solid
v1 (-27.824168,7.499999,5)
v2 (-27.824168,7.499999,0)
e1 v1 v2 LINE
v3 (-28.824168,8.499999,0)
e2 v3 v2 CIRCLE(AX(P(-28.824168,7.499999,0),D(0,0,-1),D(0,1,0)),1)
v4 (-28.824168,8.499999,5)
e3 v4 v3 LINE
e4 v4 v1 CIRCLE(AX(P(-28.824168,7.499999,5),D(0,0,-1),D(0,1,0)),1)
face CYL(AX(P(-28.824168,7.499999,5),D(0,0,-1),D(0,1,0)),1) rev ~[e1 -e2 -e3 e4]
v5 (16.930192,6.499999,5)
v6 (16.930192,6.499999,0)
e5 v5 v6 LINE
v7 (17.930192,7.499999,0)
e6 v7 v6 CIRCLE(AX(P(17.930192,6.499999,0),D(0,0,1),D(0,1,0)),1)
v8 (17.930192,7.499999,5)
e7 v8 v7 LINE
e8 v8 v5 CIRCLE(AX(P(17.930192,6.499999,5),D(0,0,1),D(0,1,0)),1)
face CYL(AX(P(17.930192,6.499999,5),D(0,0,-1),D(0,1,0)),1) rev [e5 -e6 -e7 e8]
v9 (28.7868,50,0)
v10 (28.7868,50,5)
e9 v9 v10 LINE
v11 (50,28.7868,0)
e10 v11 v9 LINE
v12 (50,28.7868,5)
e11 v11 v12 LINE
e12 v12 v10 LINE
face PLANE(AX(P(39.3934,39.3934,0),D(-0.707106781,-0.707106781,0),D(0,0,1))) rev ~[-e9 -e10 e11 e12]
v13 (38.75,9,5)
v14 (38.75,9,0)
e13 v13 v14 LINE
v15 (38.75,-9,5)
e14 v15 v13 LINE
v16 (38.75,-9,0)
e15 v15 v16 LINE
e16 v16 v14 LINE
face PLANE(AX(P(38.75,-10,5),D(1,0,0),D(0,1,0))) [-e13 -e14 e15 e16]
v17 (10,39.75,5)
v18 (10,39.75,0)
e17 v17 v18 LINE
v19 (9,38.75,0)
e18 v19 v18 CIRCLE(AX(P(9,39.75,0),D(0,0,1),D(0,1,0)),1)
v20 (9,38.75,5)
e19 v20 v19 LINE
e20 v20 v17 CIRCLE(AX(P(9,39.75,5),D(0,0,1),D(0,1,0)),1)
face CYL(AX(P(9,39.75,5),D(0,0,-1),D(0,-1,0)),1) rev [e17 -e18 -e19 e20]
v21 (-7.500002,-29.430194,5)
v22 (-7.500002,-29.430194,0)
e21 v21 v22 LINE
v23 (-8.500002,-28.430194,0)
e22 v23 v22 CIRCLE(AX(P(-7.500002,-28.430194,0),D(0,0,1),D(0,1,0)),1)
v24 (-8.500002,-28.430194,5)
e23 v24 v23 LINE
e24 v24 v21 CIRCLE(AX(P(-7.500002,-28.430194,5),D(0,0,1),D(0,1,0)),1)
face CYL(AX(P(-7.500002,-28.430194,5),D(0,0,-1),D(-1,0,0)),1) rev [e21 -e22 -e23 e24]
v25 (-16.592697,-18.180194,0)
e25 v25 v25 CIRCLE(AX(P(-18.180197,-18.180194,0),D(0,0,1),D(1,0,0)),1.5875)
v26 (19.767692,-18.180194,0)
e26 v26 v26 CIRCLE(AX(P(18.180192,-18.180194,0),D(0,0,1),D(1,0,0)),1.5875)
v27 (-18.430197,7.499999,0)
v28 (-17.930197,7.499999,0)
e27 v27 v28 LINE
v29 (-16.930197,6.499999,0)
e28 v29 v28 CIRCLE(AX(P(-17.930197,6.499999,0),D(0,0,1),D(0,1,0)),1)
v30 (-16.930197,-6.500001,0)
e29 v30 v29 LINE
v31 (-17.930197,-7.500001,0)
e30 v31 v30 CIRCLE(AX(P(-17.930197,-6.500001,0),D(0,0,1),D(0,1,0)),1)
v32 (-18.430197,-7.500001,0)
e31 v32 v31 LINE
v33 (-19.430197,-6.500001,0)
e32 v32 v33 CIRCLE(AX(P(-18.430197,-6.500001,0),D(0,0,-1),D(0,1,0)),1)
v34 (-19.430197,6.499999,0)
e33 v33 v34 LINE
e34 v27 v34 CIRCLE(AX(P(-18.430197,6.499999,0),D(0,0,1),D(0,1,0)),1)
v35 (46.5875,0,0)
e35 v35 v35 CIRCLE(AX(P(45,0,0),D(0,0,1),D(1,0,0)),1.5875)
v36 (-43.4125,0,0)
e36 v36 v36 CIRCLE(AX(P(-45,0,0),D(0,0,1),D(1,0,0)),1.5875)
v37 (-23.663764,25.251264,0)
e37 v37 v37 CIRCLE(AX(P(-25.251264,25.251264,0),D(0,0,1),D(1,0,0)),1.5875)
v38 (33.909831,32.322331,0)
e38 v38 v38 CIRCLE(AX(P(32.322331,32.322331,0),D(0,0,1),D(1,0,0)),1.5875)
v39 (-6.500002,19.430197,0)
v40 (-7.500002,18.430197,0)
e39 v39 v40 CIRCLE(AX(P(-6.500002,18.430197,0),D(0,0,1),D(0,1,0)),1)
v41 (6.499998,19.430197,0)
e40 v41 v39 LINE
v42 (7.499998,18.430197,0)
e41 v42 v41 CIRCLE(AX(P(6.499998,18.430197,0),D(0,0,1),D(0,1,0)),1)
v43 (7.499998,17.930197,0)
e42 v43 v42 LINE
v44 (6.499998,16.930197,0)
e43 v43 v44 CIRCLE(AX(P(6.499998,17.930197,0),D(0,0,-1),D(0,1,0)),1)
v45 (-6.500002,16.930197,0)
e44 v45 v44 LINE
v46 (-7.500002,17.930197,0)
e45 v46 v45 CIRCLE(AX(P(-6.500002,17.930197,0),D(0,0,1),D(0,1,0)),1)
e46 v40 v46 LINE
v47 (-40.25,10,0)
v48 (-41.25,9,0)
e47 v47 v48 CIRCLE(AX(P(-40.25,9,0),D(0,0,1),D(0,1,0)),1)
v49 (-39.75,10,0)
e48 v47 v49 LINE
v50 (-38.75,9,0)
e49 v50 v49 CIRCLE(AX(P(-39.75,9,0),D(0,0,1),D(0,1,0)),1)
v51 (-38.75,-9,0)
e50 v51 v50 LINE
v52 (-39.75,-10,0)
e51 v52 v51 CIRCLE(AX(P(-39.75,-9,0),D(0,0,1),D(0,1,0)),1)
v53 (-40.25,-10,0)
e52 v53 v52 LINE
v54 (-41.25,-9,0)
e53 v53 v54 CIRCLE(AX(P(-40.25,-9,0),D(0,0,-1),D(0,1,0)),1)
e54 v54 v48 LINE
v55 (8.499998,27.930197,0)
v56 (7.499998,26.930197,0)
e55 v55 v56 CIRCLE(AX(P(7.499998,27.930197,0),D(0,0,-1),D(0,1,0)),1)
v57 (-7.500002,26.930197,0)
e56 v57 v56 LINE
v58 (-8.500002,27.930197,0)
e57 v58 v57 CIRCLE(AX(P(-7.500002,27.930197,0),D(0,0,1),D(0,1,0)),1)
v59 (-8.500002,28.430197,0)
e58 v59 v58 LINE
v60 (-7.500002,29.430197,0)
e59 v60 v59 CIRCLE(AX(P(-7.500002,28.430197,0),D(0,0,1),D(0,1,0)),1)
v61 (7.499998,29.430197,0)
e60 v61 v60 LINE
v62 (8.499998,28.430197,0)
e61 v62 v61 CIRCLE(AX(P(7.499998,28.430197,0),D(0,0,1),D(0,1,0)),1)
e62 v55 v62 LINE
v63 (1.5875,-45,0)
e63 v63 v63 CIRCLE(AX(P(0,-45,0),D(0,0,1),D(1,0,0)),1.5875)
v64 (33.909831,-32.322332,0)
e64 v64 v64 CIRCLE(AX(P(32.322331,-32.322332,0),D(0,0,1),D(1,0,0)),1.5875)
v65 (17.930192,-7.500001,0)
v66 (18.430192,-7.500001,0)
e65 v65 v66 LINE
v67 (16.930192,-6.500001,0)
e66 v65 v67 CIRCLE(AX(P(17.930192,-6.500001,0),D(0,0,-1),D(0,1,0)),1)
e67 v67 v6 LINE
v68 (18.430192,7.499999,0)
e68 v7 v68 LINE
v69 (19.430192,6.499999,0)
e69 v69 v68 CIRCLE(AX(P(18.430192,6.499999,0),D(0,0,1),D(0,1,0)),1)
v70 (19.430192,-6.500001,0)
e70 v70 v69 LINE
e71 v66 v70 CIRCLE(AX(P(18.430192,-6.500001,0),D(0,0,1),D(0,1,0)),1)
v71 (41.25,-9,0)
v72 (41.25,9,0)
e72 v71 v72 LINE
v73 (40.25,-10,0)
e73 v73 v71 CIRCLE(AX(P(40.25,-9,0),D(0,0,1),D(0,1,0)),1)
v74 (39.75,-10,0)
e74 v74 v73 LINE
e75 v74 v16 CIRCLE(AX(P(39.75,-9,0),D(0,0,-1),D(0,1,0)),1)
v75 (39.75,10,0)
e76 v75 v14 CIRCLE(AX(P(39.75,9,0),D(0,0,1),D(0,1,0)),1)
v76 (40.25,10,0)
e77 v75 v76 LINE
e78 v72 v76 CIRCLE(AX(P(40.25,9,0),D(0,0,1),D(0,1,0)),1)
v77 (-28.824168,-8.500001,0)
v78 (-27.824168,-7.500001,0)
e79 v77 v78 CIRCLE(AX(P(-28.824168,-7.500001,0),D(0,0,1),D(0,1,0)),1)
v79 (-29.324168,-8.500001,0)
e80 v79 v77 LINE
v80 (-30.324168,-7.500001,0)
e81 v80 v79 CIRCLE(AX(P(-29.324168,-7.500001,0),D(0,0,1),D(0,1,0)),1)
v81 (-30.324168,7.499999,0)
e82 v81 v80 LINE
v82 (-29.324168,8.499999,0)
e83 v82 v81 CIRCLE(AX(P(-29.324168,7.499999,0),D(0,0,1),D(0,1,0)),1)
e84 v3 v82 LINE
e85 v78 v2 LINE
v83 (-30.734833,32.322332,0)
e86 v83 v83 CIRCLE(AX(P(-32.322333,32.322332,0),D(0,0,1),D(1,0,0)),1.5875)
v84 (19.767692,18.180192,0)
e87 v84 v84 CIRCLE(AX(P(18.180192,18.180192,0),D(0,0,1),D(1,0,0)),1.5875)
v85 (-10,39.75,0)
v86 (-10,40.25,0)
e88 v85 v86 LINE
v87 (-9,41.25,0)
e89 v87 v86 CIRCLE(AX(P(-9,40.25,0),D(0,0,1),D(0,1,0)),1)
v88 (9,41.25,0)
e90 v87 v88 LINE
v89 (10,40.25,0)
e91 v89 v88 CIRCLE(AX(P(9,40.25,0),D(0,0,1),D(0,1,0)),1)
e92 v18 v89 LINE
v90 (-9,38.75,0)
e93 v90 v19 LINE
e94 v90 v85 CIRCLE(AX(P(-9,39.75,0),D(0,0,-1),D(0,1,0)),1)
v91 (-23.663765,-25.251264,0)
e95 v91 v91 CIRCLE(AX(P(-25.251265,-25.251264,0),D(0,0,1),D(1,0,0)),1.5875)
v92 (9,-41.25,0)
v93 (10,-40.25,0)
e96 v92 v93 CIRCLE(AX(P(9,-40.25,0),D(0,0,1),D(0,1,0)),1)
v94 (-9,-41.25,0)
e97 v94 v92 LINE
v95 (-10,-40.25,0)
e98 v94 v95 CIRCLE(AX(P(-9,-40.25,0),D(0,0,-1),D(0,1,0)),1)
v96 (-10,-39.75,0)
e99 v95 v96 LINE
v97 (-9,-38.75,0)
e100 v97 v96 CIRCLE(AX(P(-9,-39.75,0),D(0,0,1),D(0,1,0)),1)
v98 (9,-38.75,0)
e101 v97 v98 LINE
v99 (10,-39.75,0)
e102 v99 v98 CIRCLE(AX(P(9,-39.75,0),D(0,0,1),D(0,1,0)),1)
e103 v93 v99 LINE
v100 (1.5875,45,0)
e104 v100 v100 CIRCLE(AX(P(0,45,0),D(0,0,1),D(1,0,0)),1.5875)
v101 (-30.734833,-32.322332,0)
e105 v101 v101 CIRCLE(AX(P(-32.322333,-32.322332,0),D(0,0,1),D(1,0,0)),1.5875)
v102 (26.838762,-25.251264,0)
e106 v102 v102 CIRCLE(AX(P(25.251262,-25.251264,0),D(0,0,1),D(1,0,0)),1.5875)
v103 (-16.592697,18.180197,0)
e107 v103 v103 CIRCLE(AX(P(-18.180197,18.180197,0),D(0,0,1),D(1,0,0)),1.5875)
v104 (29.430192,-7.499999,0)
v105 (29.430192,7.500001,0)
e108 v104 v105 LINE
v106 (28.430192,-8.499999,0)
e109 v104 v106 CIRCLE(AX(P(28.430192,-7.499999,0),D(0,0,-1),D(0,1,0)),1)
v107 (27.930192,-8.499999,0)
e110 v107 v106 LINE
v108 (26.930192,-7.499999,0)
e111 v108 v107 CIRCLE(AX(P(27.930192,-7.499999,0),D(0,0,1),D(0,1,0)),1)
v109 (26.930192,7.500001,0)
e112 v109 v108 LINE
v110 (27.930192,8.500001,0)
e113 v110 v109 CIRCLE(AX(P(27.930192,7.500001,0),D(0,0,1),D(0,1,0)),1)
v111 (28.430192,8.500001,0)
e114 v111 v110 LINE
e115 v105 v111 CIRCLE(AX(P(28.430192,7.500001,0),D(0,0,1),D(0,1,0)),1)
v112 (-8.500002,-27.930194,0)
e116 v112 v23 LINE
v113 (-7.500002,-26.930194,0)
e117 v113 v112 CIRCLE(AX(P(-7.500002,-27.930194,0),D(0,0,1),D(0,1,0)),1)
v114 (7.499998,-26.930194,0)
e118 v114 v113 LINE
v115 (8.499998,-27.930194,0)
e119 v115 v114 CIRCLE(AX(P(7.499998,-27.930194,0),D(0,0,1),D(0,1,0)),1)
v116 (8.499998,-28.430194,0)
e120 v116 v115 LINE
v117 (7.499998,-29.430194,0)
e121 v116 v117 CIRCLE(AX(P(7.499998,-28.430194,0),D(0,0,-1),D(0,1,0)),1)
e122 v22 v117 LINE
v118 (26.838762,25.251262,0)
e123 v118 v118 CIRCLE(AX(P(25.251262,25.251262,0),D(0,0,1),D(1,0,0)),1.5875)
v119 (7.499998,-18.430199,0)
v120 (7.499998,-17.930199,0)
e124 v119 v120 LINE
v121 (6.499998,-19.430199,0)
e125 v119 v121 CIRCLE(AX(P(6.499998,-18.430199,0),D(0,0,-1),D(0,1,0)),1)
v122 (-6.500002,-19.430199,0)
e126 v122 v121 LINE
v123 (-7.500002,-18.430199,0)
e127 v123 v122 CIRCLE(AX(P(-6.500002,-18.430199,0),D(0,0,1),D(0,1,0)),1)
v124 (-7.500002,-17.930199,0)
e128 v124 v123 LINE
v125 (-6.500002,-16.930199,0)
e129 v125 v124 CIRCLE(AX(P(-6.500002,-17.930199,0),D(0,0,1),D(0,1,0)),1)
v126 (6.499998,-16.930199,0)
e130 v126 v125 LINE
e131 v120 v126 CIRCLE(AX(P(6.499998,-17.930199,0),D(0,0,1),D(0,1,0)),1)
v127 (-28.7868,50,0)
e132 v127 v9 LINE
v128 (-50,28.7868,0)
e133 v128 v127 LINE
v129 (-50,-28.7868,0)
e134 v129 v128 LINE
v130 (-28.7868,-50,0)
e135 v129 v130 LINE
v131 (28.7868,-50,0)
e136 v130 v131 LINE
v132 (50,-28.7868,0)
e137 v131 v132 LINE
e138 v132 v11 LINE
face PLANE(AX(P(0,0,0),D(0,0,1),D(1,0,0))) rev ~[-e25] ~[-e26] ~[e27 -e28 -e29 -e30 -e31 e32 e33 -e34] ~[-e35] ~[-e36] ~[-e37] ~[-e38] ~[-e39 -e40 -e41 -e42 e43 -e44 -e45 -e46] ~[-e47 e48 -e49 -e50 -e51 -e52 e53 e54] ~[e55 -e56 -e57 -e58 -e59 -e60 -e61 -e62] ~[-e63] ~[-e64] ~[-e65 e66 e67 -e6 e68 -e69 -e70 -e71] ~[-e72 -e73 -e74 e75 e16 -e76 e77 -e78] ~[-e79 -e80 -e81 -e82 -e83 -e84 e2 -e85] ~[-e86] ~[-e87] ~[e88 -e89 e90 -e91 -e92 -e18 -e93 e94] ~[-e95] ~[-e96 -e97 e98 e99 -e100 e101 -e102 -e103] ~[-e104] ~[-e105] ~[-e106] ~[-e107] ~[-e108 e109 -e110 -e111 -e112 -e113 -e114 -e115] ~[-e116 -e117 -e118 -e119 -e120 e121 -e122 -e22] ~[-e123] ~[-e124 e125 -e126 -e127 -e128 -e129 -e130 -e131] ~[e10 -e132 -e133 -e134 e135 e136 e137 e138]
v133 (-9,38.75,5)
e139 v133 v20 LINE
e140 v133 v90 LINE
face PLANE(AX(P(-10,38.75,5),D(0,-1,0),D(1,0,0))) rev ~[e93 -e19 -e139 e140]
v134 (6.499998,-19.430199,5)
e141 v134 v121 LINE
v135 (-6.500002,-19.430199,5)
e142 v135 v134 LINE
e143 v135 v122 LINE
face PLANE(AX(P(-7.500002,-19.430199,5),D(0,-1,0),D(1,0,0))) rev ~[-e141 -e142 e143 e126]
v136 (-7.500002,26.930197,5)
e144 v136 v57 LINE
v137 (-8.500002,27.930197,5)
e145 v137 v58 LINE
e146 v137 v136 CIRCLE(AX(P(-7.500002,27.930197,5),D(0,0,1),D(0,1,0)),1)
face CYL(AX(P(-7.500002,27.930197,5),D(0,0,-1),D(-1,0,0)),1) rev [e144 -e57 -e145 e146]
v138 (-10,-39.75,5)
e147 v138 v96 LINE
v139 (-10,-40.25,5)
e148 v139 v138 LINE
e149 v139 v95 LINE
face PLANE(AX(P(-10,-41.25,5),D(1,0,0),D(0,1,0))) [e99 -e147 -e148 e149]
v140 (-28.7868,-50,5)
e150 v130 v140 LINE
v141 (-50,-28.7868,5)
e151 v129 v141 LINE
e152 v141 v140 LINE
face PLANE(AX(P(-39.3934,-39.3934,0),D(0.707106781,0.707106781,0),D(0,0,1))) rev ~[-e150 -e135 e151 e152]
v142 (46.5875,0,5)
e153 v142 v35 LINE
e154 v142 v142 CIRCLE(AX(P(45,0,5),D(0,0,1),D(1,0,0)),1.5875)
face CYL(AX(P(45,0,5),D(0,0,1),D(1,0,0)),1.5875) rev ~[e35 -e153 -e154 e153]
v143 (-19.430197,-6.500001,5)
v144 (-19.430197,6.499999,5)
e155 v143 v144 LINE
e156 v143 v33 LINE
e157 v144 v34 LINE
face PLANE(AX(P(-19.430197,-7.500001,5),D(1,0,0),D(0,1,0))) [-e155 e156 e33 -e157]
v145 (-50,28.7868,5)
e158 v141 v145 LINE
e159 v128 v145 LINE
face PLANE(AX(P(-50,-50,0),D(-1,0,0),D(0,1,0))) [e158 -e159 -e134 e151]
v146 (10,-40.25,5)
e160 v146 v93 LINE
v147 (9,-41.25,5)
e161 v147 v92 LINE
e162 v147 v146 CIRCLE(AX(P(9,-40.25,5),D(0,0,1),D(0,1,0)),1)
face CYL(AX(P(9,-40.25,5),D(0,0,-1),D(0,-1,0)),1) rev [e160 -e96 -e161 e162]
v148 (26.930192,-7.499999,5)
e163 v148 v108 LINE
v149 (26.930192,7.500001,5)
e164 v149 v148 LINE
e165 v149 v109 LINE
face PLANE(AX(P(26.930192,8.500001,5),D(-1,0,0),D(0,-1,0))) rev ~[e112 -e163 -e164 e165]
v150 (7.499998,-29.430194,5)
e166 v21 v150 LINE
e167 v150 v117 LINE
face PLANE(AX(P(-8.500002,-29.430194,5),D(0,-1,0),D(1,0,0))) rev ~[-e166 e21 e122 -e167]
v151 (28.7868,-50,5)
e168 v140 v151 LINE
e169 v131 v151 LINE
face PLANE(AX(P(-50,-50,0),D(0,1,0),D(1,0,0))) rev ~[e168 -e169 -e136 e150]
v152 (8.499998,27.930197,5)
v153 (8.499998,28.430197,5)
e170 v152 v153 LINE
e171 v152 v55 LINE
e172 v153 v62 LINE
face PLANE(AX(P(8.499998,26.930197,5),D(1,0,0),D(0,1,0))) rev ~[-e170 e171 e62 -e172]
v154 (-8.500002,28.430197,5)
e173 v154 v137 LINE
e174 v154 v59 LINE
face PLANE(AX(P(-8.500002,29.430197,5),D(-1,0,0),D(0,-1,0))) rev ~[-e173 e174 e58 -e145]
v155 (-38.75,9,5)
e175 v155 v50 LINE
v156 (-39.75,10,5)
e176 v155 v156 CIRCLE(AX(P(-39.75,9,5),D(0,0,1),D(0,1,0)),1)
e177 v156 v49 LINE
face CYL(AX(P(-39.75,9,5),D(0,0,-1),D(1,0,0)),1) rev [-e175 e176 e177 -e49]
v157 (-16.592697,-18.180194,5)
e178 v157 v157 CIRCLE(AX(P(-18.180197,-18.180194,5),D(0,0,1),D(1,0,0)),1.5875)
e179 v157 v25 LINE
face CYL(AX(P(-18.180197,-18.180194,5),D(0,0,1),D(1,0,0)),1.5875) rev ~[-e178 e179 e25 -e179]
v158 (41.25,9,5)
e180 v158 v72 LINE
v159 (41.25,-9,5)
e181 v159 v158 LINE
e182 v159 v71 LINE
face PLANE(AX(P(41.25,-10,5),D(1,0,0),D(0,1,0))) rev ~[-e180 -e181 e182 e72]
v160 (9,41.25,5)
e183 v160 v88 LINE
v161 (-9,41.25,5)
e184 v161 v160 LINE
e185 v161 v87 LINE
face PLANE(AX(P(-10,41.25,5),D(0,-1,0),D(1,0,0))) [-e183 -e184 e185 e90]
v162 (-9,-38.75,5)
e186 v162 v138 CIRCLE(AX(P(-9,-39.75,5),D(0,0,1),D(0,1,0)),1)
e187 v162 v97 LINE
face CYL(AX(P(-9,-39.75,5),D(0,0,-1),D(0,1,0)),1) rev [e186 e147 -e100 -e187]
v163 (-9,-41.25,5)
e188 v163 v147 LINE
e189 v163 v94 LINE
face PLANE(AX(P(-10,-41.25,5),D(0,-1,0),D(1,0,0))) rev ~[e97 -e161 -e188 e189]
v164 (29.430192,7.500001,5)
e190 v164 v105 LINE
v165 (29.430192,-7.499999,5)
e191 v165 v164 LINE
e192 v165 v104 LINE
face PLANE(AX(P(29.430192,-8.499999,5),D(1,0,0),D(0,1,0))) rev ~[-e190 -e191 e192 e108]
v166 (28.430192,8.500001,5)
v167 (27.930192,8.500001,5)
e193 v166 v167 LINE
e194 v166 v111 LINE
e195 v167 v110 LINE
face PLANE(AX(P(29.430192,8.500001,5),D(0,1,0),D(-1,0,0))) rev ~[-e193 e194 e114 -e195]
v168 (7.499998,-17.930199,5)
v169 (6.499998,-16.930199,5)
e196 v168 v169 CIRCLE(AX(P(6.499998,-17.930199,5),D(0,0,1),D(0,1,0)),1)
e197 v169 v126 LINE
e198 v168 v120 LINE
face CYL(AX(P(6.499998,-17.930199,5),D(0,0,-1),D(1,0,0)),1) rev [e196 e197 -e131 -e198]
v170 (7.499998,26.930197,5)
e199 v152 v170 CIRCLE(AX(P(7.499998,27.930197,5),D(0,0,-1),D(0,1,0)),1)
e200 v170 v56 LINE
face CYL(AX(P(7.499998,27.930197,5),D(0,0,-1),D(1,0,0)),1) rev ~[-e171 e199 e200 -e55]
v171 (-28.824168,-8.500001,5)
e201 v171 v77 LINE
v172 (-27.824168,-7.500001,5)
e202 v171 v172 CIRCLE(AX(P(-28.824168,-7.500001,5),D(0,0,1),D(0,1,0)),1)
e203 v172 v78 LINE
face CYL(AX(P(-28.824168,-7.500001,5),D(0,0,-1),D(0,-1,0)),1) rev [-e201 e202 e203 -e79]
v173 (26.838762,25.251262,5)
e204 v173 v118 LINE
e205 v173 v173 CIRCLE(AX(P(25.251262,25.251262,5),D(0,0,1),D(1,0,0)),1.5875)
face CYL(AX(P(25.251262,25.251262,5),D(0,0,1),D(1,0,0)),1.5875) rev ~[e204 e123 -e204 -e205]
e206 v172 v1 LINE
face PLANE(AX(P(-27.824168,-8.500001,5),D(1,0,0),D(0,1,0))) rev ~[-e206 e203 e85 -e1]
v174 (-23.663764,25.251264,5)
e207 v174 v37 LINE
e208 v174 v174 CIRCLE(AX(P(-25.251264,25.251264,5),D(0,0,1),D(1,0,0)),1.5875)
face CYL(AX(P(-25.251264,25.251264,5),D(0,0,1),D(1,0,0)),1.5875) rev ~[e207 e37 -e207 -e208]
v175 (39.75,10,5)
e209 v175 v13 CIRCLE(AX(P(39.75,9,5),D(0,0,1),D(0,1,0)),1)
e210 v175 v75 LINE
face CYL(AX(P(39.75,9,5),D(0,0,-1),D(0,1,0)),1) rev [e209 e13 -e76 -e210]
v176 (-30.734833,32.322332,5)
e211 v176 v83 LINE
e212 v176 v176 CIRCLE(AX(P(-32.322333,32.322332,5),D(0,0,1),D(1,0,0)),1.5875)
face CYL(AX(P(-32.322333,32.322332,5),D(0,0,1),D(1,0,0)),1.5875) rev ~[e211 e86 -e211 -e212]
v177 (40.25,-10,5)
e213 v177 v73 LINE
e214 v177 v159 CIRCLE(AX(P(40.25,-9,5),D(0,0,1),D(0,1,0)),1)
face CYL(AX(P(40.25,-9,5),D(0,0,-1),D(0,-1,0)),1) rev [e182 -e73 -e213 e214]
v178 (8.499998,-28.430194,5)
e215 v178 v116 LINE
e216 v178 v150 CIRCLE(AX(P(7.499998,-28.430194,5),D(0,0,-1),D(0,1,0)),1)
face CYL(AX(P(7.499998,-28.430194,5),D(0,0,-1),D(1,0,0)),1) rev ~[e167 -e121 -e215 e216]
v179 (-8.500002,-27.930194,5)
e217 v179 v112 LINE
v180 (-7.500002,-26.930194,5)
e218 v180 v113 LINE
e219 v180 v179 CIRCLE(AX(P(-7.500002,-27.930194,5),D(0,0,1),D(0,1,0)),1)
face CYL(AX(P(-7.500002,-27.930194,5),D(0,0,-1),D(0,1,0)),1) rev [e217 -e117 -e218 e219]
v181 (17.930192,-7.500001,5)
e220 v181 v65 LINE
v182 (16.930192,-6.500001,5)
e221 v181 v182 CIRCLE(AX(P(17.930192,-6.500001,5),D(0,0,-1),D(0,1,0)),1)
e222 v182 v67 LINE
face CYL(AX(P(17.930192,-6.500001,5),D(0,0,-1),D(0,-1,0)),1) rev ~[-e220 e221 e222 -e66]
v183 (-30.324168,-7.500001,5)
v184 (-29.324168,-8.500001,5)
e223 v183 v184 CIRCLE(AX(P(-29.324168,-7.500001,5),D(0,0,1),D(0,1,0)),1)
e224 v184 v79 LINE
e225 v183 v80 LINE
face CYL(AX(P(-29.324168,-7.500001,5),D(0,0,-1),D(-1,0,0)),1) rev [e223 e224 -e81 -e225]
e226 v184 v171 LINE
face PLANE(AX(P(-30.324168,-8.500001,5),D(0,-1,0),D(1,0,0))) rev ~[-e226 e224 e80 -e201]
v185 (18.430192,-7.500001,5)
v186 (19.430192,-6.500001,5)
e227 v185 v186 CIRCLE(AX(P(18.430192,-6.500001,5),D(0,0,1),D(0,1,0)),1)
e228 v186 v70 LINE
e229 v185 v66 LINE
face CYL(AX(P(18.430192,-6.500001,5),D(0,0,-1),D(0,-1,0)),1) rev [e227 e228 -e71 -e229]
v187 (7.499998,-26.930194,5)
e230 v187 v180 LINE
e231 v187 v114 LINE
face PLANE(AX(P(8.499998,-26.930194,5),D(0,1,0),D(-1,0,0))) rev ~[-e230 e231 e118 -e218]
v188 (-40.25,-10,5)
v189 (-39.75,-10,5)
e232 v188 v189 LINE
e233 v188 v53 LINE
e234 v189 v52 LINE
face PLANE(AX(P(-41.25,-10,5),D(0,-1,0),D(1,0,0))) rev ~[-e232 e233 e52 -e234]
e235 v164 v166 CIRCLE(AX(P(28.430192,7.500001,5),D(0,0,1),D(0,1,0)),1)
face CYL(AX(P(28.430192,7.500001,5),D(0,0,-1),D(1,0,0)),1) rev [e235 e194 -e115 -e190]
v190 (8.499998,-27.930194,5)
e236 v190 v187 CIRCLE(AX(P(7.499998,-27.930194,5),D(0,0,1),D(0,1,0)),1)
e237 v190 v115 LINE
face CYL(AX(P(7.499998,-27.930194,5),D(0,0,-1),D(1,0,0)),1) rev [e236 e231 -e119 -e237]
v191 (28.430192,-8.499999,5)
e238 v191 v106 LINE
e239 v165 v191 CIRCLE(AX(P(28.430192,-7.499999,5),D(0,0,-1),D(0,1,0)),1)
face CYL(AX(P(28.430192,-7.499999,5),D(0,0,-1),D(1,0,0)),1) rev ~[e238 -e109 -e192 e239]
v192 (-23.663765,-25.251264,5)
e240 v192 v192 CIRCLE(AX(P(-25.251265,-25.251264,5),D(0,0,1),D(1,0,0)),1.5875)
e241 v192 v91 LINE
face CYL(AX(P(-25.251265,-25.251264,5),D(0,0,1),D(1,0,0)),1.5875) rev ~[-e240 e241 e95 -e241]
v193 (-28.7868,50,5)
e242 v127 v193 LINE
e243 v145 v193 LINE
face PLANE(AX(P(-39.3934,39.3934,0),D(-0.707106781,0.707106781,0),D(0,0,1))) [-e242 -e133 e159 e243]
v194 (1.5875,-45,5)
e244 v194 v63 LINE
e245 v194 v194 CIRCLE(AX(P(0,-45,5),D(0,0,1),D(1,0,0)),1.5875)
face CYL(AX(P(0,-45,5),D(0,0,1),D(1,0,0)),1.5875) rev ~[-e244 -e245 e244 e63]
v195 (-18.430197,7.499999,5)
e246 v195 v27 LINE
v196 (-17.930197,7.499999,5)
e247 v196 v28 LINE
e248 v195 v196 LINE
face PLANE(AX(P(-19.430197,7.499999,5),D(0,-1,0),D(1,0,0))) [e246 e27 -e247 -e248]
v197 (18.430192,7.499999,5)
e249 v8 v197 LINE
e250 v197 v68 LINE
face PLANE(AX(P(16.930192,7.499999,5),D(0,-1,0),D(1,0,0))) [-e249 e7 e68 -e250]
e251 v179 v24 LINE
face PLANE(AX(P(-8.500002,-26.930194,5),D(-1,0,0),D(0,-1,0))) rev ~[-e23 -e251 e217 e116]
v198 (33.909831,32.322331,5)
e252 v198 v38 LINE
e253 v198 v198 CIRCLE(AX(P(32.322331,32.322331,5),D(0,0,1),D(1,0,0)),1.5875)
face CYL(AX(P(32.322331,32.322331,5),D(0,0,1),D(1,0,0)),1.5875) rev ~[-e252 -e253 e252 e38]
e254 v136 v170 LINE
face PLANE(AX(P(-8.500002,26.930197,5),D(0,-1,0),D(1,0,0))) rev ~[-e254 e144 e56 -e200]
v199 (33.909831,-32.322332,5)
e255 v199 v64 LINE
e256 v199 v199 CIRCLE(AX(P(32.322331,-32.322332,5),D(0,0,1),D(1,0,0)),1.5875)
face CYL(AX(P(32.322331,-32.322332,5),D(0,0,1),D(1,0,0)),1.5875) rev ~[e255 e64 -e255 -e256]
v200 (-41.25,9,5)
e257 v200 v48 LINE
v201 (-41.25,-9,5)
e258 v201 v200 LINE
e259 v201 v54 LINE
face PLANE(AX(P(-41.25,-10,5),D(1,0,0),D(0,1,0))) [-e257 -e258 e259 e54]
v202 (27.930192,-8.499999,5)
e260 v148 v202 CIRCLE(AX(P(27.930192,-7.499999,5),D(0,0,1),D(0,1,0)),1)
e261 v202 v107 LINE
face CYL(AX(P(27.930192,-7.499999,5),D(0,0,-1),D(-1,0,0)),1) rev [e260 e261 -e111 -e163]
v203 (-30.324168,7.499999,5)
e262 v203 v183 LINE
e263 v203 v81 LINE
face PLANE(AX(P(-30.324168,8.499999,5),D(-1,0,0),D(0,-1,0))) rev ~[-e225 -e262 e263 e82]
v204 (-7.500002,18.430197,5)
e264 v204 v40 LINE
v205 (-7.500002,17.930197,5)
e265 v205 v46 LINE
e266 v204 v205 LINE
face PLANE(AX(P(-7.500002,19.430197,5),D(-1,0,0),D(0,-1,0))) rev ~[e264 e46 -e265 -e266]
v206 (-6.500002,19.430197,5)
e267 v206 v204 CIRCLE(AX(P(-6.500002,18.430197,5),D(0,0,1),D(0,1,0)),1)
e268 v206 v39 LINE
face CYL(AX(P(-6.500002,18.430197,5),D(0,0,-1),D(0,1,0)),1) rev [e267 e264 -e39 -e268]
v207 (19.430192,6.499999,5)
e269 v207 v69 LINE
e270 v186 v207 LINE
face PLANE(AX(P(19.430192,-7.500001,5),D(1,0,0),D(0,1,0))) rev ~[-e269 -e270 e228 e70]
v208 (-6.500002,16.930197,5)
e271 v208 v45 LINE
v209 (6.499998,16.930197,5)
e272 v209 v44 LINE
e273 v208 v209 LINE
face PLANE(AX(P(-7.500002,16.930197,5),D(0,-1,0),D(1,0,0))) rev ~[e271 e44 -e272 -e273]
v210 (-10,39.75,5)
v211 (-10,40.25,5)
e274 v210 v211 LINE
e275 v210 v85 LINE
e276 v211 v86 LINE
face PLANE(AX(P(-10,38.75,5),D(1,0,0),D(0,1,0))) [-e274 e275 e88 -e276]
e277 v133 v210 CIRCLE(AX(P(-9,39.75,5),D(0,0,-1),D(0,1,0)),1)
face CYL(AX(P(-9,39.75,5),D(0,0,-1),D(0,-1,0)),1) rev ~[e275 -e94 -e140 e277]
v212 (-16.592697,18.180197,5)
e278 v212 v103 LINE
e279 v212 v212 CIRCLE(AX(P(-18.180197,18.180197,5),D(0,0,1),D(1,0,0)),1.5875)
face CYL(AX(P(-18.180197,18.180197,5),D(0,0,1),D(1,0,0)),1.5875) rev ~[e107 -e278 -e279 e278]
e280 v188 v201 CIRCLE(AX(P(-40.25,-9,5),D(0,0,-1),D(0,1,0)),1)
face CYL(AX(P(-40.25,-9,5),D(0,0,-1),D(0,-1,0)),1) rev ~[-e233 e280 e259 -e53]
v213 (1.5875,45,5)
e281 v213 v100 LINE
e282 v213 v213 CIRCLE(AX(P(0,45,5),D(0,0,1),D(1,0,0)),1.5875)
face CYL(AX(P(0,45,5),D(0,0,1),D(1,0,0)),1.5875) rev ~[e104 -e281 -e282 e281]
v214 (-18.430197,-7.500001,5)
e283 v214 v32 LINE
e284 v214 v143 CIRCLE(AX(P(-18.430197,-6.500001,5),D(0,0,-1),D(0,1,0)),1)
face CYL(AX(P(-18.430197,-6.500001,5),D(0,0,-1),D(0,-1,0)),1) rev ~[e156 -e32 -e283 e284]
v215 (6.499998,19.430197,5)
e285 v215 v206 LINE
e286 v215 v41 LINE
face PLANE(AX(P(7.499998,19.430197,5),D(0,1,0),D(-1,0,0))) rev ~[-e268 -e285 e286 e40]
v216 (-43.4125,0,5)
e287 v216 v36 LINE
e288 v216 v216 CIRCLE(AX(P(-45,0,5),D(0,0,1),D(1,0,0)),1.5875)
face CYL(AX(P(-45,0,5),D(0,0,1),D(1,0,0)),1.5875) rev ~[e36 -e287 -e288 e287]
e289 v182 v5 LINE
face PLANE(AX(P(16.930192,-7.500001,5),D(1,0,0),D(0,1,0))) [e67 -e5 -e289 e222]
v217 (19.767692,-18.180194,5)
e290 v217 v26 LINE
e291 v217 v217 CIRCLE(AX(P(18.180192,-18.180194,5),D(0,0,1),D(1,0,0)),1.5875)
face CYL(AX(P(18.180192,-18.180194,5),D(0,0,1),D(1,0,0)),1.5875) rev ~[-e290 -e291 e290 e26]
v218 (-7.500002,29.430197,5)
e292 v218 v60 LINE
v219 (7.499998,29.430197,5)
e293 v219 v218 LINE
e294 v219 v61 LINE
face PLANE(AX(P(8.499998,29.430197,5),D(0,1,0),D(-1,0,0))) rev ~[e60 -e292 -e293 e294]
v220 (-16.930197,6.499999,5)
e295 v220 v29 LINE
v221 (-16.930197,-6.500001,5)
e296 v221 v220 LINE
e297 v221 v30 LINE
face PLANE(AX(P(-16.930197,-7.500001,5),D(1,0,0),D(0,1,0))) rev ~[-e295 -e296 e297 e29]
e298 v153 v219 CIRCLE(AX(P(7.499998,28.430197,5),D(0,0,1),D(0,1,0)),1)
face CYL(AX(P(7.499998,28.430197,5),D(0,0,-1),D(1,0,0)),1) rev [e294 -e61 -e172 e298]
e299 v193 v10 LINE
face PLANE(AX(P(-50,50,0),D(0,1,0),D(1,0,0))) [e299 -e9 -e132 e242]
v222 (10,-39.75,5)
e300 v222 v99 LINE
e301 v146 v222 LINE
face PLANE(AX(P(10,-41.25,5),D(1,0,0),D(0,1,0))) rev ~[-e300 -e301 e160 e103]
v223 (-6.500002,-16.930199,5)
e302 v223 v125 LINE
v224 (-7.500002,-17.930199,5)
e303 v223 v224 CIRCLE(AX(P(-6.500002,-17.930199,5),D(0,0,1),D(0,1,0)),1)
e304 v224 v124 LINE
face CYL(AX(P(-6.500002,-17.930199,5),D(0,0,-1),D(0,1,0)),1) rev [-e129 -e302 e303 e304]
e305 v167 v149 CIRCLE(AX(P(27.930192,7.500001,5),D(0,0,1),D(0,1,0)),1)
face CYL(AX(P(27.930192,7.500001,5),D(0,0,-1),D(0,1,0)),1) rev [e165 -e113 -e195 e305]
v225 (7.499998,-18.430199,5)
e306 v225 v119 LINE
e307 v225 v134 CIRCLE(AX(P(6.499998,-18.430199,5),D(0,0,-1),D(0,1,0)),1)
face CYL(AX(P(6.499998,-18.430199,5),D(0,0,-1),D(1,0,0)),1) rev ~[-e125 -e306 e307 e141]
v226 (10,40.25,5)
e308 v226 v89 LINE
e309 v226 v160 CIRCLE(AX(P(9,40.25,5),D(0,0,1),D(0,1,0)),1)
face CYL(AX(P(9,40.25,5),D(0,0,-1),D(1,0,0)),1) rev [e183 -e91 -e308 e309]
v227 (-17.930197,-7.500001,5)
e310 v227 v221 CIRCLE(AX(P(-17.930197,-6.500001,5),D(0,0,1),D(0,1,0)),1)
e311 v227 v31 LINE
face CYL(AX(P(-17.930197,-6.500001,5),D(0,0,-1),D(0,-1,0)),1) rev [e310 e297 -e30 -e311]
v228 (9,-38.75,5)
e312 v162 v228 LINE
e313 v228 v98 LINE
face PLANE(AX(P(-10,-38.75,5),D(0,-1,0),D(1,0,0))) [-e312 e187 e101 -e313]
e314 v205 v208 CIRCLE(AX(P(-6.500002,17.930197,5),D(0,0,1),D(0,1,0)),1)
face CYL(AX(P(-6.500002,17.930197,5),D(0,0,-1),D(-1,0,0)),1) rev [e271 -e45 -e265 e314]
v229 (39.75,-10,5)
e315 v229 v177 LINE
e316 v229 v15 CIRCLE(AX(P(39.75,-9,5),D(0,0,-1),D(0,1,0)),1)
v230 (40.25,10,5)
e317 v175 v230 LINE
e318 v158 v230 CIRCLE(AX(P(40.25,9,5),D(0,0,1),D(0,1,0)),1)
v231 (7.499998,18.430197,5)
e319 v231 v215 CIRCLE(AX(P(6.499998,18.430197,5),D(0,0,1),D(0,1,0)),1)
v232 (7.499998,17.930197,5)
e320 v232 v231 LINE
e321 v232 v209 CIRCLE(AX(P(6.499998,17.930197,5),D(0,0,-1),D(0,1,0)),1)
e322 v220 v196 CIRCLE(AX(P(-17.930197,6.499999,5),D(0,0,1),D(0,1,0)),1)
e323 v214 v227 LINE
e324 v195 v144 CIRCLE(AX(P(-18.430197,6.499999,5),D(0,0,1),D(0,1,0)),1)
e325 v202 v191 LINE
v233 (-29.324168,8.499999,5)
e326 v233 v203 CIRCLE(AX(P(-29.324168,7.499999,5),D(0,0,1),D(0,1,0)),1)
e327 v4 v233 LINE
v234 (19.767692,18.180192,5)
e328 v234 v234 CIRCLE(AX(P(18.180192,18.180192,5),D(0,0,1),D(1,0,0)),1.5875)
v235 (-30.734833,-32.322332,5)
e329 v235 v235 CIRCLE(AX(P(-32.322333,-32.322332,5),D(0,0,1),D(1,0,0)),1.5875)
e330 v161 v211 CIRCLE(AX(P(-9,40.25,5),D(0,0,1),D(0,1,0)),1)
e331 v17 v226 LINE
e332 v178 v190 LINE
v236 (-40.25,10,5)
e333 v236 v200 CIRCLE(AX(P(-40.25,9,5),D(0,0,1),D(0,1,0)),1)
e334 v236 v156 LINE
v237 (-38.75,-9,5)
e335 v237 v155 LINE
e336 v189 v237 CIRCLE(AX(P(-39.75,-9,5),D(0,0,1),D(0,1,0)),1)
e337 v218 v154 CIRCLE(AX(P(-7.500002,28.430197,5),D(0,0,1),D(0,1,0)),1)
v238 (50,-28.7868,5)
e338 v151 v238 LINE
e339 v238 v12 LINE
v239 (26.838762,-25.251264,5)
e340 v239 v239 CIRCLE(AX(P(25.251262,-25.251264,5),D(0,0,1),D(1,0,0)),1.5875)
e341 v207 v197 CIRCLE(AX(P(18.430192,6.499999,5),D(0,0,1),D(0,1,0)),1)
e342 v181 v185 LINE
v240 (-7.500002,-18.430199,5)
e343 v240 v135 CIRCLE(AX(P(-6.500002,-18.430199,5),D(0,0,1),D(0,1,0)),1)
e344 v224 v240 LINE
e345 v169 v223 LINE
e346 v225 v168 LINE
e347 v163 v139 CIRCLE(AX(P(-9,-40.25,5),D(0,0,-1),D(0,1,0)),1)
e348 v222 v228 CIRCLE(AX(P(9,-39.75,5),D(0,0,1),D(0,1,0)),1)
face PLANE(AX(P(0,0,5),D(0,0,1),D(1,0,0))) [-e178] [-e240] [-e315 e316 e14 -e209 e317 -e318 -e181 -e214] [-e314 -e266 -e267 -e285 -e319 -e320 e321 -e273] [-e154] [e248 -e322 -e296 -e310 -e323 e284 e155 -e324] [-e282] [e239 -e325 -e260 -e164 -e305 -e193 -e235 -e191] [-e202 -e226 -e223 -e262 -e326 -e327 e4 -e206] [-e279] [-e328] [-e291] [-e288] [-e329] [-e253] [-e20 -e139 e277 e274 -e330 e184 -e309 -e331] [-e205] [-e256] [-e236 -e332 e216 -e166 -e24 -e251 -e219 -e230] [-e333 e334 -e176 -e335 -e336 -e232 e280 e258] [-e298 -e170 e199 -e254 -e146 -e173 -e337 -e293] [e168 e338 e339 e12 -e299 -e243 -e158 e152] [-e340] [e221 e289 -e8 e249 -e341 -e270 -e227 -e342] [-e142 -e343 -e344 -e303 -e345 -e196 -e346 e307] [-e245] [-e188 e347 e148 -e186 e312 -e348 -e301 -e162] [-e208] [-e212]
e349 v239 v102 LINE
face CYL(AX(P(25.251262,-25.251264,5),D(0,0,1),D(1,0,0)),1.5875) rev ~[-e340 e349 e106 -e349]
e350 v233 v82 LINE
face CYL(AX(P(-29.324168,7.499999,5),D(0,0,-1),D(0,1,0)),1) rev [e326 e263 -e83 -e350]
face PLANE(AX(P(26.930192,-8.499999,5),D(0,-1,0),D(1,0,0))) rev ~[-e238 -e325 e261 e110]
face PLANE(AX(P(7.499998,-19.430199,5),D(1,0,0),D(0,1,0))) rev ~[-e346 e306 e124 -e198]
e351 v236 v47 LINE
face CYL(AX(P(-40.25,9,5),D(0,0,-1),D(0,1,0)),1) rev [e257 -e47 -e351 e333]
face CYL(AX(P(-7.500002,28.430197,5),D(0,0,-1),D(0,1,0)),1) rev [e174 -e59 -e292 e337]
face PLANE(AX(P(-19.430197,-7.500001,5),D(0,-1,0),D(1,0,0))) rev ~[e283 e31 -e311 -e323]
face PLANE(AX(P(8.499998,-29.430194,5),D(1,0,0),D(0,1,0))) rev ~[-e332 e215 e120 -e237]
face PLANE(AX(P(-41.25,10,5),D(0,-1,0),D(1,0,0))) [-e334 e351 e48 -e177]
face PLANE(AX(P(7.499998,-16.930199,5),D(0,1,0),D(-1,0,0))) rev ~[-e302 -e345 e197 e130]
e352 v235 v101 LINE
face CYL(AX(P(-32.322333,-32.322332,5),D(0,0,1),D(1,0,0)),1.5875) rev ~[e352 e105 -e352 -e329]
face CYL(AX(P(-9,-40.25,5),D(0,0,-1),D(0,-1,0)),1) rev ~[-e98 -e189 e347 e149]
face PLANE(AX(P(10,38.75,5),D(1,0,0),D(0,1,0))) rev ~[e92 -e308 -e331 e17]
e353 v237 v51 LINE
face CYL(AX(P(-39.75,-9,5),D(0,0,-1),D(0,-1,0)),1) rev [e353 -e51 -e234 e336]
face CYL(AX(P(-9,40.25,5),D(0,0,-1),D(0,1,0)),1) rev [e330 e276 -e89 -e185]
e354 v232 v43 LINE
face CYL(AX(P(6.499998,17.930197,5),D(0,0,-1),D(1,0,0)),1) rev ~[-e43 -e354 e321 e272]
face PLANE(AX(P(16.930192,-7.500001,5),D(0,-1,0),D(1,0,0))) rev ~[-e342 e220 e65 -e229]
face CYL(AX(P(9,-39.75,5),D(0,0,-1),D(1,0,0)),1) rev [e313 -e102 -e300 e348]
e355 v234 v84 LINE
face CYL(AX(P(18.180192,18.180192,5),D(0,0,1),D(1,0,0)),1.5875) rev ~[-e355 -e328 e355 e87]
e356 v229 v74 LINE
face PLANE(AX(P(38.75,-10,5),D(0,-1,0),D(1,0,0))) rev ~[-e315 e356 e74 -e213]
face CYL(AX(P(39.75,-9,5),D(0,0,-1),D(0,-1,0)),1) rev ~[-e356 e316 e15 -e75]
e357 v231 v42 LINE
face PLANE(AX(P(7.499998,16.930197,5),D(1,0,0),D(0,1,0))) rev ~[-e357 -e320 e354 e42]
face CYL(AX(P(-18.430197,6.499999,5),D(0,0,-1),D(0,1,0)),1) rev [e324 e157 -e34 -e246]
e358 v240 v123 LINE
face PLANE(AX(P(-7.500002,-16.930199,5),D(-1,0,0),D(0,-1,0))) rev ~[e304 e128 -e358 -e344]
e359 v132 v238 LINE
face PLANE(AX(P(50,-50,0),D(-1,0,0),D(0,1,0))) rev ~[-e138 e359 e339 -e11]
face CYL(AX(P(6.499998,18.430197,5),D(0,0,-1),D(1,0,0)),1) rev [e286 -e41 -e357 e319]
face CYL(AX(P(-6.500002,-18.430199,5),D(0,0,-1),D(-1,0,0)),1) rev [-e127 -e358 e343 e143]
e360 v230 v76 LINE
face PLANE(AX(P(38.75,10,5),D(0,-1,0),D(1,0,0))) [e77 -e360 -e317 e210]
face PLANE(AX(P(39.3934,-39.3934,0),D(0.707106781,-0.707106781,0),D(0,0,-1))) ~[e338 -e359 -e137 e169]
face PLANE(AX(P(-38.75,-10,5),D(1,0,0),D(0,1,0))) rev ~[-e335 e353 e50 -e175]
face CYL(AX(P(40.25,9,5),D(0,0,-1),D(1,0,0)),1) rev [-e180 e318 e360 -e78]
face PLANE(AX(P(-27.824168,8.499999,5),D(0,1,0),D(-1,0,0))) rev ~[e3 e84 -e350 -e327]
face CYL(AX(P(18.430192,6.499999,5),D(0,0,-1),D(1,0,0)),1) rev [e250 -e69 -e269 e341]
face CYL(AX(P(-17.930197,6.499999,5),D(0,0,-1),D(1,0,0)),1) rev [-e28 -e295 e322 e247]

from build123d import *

# Parameters (mm, degrees)
F0_W     = 100
F0_H     = 100
F1_DEPTH = 5
F2_SIZE2 = 21.2132
F2_SIZE  = 21.2132
F3_R     = 1.5875
F3_W     = 2.5
F3_H     = 20
F3_W_2   = 20
F3_H_2   = 2.5
F4_DEPTH = 5
F5_R     = 1
F6_W     = 2.5
F6_H     = 15
F7_DEPTH = 5
F8_R     = 1


with BuildPart() as f1:
    # F0 (on Top) → F1 (new body)
    with BuildSketch(Plane.XY):
        Rectangle(F0_W, F0_H)
    extrude(amount=F1_DEPTH)

    # F2
    f2_edges = [f1.edges().sort_by_distance(p)[0] for p in [
        (50, -50, 2.5),
        (50, 50, 2.5),
        (-50, -50, 2.5),
        (-50, 50, 2.5),
    ]]
    chamfer(f2_edges, length=F2_SIZE, length2=F2_SIZE2)

    # F3 (on face) → F4 (cut)
    with BuildSketch(Plane.XY.offset(5)):
        with Locations((-25.251264, 25.251264)):
            Circle(F3_R)
        with Locations((-25.251265, -25.251264)):
            Circle(F3_R)
        with Locations((25.251262, -25.251264)):
            Circle(F3_R)
        with Locations((25.251262, 25.251262)):
            Circle(F3_R)
        with Locations((-18.180197, -18.180194)):
            Circle(F3_R)
        with Locations((18.180192, -18.180194)):
            Circle(F3_R)
        with Locations((18.180192, 18.180192)):
            Circle(F3_R)
        with Locations((-18.180197, 18.180197)):
            Circle(F3_R)
        with Locations((-32.322333, -32.322332)):
            Circle(F3_R)
        with Locations((32.322331, -32.322332)):
            Circle(F3_R)
        with Locations((32.322331, 32.322331)):
            Circle(F3_R)
        with Locations((-32.322333, 32.322332)):
            Circle(F3_R)
        with Locations((-40, 0)):
            Rectangle(F3_W, F3_H)
        with Locations((-45, 0)):
            Circle(F3_R)
        with Locations((0, -40)):
            Rectangle(F3_W_2, F3_H_2)
        with Locations((0, -45)):
            Circle(F3_R)
        with Locations((40, 0)):
            Rectangle(F3_W, F3_H)
        with Locations((45, 0)):
            Circle(F3_R)
        with Locations((0, 45)):
            Circle(F3_R)
        with Locations((0, 40)):
            Rectangle(F3_W_2, F3_H_2)
    extrude(amount=-F4_DEPTH, mode=Mode.SUBTRACT)

    # F5
    f5_edges = [f1.edges().sort_by_distance(p)[0] for p in [
        (-41.25, 10, 2.5),
        (-10, -38.75, 2.5),
        (38.75, 10, 2.5),
        (-10, 41.25, 2.5),
        (10, -38.75, 2.5),
        (41.25, 10, 2.5),
        (-38.75, 10, 2.5),
        (10, 41.25, 2.5),
        (41.25, -10, 2.5),
        (10, -41.25, 2.5),
        (10, 38.75, 2.5),
        (-38.75, -10, 2.5),
        (-10, 38.75, 2.5),
        (38.75, -10, 2.5),
        (-41.25, -10, 2.5),
        (-10, -41.25, 2.5),
    ]]
    fillet(f5_edges, radius=F5_R)

    # F6 (on face) → F7 (cut)
    with BuildSketch(Plane.XY.offset(5)):
        Polygon((7.499998, 16.930197), (7.499998, 19.430197), (-2e-06, 19.430197), (-7.500002, 19.430197), (-7.500002, 18.180197), (-7.500002, 16.930197), align=None)
        with Locations((-18.180197, -1e-06)):
            Rectangle(F6_W, F6_H)
        Polygon((7.499998, -19.430199), (7.499998, -16.930199), (-7.500002, -16.930199), (-7.500002, -19.430199), (-2e-06, -19.430199), align=None)
        with Locations((18.180192, -1e-06)):
            Rectangle(F6_W, F6_H)
        Polygon((-27.824168, -1e-06), (-27.824168, 8.499999), (-30.324168, 8.499999), (-30.324168, -8.500001), (-27.824168, -8.500001), align=None)
        Polygon((8.499998, -29.430194), (8.499998, -26.930194), (-2e-06, -26.930194), (-8.500002, -26.930194), (-8.500002, -29.430194), align=None)
        Polygon((29.430192, -8.499999), (29.430192, 8.500001), (26.930192, 8.500001), (26.930192, 1e-06), (26.930192, -8.499999), align=None)
        Polygon((8.499998, 26.930197), (8.499998, 29.430197), (-8.500002, 29.430197), (-8.500002, 26.930197), (-2e-06, 26.930197), align=None)
    extrude(amount=-F7_DEPTH, mode=Mode.SUBTRACT)

    # F8
    f8_edges = [f1.edges().sort_by_distance(p)[0] for p in [
        (-30.324168, 8.499999, 2.5),
        (-19.430197, 7.499999, 2.5),
        (-8.500002, 29.430197, 2.5),
        (-7.500002, 19.430197, 2.5),
        (-7.500002, -16.930199, 2.5),
        (-8.500002, -26.930194, 2.5),
        (16.930192, 7.499999, 2.5),
        (26.930192, 8.500001, 2.5),
        (8.499998, 29.430197, 2.5),
        (7.499998, 19.430197, 2.5),
        (-27.824168, 8.499999, 2.5),
        (-16.930197, 7.499999, 2.5),
        (29.430192, 8.500001, 2.5),
        (19.430192, 7.499999, 2.5),
        (7.499998, -16.930199, 2.5),
        (8.499998, -26.930194, 2.5),
        (29.430192, -8.499999, 2.5),
        (19.430192, -7.500001, 2.5),
        (7.499998, -19.430199, 2.5),
        (8.499998, -29.430194, 2.5),
        (7.499998, 16.930197, 2.5),
        (8.499998, 26.930197, 2.5),
        (-27.824168, -8.500001, 2.5),
        (-16.930197, -7.500001, 2.5),
        (-7.500002, -19.430199, 2.5),
        (-8.500002, -29.430194, 2.5),
        (-30.324168, -8.500001, 2.5),
        (-19.430197, -7.500001, 2.5),
        (16.930192, -7.500001, 2.5),
        (26.930192, -8.499999, 2.5),
        (-8.500002, 26.930197, 2.5),
        (-7.500002, 16.930197, 2.5),
    ]]
    fillet(f8_edges, radius=F8_R)


solid = f1.part
